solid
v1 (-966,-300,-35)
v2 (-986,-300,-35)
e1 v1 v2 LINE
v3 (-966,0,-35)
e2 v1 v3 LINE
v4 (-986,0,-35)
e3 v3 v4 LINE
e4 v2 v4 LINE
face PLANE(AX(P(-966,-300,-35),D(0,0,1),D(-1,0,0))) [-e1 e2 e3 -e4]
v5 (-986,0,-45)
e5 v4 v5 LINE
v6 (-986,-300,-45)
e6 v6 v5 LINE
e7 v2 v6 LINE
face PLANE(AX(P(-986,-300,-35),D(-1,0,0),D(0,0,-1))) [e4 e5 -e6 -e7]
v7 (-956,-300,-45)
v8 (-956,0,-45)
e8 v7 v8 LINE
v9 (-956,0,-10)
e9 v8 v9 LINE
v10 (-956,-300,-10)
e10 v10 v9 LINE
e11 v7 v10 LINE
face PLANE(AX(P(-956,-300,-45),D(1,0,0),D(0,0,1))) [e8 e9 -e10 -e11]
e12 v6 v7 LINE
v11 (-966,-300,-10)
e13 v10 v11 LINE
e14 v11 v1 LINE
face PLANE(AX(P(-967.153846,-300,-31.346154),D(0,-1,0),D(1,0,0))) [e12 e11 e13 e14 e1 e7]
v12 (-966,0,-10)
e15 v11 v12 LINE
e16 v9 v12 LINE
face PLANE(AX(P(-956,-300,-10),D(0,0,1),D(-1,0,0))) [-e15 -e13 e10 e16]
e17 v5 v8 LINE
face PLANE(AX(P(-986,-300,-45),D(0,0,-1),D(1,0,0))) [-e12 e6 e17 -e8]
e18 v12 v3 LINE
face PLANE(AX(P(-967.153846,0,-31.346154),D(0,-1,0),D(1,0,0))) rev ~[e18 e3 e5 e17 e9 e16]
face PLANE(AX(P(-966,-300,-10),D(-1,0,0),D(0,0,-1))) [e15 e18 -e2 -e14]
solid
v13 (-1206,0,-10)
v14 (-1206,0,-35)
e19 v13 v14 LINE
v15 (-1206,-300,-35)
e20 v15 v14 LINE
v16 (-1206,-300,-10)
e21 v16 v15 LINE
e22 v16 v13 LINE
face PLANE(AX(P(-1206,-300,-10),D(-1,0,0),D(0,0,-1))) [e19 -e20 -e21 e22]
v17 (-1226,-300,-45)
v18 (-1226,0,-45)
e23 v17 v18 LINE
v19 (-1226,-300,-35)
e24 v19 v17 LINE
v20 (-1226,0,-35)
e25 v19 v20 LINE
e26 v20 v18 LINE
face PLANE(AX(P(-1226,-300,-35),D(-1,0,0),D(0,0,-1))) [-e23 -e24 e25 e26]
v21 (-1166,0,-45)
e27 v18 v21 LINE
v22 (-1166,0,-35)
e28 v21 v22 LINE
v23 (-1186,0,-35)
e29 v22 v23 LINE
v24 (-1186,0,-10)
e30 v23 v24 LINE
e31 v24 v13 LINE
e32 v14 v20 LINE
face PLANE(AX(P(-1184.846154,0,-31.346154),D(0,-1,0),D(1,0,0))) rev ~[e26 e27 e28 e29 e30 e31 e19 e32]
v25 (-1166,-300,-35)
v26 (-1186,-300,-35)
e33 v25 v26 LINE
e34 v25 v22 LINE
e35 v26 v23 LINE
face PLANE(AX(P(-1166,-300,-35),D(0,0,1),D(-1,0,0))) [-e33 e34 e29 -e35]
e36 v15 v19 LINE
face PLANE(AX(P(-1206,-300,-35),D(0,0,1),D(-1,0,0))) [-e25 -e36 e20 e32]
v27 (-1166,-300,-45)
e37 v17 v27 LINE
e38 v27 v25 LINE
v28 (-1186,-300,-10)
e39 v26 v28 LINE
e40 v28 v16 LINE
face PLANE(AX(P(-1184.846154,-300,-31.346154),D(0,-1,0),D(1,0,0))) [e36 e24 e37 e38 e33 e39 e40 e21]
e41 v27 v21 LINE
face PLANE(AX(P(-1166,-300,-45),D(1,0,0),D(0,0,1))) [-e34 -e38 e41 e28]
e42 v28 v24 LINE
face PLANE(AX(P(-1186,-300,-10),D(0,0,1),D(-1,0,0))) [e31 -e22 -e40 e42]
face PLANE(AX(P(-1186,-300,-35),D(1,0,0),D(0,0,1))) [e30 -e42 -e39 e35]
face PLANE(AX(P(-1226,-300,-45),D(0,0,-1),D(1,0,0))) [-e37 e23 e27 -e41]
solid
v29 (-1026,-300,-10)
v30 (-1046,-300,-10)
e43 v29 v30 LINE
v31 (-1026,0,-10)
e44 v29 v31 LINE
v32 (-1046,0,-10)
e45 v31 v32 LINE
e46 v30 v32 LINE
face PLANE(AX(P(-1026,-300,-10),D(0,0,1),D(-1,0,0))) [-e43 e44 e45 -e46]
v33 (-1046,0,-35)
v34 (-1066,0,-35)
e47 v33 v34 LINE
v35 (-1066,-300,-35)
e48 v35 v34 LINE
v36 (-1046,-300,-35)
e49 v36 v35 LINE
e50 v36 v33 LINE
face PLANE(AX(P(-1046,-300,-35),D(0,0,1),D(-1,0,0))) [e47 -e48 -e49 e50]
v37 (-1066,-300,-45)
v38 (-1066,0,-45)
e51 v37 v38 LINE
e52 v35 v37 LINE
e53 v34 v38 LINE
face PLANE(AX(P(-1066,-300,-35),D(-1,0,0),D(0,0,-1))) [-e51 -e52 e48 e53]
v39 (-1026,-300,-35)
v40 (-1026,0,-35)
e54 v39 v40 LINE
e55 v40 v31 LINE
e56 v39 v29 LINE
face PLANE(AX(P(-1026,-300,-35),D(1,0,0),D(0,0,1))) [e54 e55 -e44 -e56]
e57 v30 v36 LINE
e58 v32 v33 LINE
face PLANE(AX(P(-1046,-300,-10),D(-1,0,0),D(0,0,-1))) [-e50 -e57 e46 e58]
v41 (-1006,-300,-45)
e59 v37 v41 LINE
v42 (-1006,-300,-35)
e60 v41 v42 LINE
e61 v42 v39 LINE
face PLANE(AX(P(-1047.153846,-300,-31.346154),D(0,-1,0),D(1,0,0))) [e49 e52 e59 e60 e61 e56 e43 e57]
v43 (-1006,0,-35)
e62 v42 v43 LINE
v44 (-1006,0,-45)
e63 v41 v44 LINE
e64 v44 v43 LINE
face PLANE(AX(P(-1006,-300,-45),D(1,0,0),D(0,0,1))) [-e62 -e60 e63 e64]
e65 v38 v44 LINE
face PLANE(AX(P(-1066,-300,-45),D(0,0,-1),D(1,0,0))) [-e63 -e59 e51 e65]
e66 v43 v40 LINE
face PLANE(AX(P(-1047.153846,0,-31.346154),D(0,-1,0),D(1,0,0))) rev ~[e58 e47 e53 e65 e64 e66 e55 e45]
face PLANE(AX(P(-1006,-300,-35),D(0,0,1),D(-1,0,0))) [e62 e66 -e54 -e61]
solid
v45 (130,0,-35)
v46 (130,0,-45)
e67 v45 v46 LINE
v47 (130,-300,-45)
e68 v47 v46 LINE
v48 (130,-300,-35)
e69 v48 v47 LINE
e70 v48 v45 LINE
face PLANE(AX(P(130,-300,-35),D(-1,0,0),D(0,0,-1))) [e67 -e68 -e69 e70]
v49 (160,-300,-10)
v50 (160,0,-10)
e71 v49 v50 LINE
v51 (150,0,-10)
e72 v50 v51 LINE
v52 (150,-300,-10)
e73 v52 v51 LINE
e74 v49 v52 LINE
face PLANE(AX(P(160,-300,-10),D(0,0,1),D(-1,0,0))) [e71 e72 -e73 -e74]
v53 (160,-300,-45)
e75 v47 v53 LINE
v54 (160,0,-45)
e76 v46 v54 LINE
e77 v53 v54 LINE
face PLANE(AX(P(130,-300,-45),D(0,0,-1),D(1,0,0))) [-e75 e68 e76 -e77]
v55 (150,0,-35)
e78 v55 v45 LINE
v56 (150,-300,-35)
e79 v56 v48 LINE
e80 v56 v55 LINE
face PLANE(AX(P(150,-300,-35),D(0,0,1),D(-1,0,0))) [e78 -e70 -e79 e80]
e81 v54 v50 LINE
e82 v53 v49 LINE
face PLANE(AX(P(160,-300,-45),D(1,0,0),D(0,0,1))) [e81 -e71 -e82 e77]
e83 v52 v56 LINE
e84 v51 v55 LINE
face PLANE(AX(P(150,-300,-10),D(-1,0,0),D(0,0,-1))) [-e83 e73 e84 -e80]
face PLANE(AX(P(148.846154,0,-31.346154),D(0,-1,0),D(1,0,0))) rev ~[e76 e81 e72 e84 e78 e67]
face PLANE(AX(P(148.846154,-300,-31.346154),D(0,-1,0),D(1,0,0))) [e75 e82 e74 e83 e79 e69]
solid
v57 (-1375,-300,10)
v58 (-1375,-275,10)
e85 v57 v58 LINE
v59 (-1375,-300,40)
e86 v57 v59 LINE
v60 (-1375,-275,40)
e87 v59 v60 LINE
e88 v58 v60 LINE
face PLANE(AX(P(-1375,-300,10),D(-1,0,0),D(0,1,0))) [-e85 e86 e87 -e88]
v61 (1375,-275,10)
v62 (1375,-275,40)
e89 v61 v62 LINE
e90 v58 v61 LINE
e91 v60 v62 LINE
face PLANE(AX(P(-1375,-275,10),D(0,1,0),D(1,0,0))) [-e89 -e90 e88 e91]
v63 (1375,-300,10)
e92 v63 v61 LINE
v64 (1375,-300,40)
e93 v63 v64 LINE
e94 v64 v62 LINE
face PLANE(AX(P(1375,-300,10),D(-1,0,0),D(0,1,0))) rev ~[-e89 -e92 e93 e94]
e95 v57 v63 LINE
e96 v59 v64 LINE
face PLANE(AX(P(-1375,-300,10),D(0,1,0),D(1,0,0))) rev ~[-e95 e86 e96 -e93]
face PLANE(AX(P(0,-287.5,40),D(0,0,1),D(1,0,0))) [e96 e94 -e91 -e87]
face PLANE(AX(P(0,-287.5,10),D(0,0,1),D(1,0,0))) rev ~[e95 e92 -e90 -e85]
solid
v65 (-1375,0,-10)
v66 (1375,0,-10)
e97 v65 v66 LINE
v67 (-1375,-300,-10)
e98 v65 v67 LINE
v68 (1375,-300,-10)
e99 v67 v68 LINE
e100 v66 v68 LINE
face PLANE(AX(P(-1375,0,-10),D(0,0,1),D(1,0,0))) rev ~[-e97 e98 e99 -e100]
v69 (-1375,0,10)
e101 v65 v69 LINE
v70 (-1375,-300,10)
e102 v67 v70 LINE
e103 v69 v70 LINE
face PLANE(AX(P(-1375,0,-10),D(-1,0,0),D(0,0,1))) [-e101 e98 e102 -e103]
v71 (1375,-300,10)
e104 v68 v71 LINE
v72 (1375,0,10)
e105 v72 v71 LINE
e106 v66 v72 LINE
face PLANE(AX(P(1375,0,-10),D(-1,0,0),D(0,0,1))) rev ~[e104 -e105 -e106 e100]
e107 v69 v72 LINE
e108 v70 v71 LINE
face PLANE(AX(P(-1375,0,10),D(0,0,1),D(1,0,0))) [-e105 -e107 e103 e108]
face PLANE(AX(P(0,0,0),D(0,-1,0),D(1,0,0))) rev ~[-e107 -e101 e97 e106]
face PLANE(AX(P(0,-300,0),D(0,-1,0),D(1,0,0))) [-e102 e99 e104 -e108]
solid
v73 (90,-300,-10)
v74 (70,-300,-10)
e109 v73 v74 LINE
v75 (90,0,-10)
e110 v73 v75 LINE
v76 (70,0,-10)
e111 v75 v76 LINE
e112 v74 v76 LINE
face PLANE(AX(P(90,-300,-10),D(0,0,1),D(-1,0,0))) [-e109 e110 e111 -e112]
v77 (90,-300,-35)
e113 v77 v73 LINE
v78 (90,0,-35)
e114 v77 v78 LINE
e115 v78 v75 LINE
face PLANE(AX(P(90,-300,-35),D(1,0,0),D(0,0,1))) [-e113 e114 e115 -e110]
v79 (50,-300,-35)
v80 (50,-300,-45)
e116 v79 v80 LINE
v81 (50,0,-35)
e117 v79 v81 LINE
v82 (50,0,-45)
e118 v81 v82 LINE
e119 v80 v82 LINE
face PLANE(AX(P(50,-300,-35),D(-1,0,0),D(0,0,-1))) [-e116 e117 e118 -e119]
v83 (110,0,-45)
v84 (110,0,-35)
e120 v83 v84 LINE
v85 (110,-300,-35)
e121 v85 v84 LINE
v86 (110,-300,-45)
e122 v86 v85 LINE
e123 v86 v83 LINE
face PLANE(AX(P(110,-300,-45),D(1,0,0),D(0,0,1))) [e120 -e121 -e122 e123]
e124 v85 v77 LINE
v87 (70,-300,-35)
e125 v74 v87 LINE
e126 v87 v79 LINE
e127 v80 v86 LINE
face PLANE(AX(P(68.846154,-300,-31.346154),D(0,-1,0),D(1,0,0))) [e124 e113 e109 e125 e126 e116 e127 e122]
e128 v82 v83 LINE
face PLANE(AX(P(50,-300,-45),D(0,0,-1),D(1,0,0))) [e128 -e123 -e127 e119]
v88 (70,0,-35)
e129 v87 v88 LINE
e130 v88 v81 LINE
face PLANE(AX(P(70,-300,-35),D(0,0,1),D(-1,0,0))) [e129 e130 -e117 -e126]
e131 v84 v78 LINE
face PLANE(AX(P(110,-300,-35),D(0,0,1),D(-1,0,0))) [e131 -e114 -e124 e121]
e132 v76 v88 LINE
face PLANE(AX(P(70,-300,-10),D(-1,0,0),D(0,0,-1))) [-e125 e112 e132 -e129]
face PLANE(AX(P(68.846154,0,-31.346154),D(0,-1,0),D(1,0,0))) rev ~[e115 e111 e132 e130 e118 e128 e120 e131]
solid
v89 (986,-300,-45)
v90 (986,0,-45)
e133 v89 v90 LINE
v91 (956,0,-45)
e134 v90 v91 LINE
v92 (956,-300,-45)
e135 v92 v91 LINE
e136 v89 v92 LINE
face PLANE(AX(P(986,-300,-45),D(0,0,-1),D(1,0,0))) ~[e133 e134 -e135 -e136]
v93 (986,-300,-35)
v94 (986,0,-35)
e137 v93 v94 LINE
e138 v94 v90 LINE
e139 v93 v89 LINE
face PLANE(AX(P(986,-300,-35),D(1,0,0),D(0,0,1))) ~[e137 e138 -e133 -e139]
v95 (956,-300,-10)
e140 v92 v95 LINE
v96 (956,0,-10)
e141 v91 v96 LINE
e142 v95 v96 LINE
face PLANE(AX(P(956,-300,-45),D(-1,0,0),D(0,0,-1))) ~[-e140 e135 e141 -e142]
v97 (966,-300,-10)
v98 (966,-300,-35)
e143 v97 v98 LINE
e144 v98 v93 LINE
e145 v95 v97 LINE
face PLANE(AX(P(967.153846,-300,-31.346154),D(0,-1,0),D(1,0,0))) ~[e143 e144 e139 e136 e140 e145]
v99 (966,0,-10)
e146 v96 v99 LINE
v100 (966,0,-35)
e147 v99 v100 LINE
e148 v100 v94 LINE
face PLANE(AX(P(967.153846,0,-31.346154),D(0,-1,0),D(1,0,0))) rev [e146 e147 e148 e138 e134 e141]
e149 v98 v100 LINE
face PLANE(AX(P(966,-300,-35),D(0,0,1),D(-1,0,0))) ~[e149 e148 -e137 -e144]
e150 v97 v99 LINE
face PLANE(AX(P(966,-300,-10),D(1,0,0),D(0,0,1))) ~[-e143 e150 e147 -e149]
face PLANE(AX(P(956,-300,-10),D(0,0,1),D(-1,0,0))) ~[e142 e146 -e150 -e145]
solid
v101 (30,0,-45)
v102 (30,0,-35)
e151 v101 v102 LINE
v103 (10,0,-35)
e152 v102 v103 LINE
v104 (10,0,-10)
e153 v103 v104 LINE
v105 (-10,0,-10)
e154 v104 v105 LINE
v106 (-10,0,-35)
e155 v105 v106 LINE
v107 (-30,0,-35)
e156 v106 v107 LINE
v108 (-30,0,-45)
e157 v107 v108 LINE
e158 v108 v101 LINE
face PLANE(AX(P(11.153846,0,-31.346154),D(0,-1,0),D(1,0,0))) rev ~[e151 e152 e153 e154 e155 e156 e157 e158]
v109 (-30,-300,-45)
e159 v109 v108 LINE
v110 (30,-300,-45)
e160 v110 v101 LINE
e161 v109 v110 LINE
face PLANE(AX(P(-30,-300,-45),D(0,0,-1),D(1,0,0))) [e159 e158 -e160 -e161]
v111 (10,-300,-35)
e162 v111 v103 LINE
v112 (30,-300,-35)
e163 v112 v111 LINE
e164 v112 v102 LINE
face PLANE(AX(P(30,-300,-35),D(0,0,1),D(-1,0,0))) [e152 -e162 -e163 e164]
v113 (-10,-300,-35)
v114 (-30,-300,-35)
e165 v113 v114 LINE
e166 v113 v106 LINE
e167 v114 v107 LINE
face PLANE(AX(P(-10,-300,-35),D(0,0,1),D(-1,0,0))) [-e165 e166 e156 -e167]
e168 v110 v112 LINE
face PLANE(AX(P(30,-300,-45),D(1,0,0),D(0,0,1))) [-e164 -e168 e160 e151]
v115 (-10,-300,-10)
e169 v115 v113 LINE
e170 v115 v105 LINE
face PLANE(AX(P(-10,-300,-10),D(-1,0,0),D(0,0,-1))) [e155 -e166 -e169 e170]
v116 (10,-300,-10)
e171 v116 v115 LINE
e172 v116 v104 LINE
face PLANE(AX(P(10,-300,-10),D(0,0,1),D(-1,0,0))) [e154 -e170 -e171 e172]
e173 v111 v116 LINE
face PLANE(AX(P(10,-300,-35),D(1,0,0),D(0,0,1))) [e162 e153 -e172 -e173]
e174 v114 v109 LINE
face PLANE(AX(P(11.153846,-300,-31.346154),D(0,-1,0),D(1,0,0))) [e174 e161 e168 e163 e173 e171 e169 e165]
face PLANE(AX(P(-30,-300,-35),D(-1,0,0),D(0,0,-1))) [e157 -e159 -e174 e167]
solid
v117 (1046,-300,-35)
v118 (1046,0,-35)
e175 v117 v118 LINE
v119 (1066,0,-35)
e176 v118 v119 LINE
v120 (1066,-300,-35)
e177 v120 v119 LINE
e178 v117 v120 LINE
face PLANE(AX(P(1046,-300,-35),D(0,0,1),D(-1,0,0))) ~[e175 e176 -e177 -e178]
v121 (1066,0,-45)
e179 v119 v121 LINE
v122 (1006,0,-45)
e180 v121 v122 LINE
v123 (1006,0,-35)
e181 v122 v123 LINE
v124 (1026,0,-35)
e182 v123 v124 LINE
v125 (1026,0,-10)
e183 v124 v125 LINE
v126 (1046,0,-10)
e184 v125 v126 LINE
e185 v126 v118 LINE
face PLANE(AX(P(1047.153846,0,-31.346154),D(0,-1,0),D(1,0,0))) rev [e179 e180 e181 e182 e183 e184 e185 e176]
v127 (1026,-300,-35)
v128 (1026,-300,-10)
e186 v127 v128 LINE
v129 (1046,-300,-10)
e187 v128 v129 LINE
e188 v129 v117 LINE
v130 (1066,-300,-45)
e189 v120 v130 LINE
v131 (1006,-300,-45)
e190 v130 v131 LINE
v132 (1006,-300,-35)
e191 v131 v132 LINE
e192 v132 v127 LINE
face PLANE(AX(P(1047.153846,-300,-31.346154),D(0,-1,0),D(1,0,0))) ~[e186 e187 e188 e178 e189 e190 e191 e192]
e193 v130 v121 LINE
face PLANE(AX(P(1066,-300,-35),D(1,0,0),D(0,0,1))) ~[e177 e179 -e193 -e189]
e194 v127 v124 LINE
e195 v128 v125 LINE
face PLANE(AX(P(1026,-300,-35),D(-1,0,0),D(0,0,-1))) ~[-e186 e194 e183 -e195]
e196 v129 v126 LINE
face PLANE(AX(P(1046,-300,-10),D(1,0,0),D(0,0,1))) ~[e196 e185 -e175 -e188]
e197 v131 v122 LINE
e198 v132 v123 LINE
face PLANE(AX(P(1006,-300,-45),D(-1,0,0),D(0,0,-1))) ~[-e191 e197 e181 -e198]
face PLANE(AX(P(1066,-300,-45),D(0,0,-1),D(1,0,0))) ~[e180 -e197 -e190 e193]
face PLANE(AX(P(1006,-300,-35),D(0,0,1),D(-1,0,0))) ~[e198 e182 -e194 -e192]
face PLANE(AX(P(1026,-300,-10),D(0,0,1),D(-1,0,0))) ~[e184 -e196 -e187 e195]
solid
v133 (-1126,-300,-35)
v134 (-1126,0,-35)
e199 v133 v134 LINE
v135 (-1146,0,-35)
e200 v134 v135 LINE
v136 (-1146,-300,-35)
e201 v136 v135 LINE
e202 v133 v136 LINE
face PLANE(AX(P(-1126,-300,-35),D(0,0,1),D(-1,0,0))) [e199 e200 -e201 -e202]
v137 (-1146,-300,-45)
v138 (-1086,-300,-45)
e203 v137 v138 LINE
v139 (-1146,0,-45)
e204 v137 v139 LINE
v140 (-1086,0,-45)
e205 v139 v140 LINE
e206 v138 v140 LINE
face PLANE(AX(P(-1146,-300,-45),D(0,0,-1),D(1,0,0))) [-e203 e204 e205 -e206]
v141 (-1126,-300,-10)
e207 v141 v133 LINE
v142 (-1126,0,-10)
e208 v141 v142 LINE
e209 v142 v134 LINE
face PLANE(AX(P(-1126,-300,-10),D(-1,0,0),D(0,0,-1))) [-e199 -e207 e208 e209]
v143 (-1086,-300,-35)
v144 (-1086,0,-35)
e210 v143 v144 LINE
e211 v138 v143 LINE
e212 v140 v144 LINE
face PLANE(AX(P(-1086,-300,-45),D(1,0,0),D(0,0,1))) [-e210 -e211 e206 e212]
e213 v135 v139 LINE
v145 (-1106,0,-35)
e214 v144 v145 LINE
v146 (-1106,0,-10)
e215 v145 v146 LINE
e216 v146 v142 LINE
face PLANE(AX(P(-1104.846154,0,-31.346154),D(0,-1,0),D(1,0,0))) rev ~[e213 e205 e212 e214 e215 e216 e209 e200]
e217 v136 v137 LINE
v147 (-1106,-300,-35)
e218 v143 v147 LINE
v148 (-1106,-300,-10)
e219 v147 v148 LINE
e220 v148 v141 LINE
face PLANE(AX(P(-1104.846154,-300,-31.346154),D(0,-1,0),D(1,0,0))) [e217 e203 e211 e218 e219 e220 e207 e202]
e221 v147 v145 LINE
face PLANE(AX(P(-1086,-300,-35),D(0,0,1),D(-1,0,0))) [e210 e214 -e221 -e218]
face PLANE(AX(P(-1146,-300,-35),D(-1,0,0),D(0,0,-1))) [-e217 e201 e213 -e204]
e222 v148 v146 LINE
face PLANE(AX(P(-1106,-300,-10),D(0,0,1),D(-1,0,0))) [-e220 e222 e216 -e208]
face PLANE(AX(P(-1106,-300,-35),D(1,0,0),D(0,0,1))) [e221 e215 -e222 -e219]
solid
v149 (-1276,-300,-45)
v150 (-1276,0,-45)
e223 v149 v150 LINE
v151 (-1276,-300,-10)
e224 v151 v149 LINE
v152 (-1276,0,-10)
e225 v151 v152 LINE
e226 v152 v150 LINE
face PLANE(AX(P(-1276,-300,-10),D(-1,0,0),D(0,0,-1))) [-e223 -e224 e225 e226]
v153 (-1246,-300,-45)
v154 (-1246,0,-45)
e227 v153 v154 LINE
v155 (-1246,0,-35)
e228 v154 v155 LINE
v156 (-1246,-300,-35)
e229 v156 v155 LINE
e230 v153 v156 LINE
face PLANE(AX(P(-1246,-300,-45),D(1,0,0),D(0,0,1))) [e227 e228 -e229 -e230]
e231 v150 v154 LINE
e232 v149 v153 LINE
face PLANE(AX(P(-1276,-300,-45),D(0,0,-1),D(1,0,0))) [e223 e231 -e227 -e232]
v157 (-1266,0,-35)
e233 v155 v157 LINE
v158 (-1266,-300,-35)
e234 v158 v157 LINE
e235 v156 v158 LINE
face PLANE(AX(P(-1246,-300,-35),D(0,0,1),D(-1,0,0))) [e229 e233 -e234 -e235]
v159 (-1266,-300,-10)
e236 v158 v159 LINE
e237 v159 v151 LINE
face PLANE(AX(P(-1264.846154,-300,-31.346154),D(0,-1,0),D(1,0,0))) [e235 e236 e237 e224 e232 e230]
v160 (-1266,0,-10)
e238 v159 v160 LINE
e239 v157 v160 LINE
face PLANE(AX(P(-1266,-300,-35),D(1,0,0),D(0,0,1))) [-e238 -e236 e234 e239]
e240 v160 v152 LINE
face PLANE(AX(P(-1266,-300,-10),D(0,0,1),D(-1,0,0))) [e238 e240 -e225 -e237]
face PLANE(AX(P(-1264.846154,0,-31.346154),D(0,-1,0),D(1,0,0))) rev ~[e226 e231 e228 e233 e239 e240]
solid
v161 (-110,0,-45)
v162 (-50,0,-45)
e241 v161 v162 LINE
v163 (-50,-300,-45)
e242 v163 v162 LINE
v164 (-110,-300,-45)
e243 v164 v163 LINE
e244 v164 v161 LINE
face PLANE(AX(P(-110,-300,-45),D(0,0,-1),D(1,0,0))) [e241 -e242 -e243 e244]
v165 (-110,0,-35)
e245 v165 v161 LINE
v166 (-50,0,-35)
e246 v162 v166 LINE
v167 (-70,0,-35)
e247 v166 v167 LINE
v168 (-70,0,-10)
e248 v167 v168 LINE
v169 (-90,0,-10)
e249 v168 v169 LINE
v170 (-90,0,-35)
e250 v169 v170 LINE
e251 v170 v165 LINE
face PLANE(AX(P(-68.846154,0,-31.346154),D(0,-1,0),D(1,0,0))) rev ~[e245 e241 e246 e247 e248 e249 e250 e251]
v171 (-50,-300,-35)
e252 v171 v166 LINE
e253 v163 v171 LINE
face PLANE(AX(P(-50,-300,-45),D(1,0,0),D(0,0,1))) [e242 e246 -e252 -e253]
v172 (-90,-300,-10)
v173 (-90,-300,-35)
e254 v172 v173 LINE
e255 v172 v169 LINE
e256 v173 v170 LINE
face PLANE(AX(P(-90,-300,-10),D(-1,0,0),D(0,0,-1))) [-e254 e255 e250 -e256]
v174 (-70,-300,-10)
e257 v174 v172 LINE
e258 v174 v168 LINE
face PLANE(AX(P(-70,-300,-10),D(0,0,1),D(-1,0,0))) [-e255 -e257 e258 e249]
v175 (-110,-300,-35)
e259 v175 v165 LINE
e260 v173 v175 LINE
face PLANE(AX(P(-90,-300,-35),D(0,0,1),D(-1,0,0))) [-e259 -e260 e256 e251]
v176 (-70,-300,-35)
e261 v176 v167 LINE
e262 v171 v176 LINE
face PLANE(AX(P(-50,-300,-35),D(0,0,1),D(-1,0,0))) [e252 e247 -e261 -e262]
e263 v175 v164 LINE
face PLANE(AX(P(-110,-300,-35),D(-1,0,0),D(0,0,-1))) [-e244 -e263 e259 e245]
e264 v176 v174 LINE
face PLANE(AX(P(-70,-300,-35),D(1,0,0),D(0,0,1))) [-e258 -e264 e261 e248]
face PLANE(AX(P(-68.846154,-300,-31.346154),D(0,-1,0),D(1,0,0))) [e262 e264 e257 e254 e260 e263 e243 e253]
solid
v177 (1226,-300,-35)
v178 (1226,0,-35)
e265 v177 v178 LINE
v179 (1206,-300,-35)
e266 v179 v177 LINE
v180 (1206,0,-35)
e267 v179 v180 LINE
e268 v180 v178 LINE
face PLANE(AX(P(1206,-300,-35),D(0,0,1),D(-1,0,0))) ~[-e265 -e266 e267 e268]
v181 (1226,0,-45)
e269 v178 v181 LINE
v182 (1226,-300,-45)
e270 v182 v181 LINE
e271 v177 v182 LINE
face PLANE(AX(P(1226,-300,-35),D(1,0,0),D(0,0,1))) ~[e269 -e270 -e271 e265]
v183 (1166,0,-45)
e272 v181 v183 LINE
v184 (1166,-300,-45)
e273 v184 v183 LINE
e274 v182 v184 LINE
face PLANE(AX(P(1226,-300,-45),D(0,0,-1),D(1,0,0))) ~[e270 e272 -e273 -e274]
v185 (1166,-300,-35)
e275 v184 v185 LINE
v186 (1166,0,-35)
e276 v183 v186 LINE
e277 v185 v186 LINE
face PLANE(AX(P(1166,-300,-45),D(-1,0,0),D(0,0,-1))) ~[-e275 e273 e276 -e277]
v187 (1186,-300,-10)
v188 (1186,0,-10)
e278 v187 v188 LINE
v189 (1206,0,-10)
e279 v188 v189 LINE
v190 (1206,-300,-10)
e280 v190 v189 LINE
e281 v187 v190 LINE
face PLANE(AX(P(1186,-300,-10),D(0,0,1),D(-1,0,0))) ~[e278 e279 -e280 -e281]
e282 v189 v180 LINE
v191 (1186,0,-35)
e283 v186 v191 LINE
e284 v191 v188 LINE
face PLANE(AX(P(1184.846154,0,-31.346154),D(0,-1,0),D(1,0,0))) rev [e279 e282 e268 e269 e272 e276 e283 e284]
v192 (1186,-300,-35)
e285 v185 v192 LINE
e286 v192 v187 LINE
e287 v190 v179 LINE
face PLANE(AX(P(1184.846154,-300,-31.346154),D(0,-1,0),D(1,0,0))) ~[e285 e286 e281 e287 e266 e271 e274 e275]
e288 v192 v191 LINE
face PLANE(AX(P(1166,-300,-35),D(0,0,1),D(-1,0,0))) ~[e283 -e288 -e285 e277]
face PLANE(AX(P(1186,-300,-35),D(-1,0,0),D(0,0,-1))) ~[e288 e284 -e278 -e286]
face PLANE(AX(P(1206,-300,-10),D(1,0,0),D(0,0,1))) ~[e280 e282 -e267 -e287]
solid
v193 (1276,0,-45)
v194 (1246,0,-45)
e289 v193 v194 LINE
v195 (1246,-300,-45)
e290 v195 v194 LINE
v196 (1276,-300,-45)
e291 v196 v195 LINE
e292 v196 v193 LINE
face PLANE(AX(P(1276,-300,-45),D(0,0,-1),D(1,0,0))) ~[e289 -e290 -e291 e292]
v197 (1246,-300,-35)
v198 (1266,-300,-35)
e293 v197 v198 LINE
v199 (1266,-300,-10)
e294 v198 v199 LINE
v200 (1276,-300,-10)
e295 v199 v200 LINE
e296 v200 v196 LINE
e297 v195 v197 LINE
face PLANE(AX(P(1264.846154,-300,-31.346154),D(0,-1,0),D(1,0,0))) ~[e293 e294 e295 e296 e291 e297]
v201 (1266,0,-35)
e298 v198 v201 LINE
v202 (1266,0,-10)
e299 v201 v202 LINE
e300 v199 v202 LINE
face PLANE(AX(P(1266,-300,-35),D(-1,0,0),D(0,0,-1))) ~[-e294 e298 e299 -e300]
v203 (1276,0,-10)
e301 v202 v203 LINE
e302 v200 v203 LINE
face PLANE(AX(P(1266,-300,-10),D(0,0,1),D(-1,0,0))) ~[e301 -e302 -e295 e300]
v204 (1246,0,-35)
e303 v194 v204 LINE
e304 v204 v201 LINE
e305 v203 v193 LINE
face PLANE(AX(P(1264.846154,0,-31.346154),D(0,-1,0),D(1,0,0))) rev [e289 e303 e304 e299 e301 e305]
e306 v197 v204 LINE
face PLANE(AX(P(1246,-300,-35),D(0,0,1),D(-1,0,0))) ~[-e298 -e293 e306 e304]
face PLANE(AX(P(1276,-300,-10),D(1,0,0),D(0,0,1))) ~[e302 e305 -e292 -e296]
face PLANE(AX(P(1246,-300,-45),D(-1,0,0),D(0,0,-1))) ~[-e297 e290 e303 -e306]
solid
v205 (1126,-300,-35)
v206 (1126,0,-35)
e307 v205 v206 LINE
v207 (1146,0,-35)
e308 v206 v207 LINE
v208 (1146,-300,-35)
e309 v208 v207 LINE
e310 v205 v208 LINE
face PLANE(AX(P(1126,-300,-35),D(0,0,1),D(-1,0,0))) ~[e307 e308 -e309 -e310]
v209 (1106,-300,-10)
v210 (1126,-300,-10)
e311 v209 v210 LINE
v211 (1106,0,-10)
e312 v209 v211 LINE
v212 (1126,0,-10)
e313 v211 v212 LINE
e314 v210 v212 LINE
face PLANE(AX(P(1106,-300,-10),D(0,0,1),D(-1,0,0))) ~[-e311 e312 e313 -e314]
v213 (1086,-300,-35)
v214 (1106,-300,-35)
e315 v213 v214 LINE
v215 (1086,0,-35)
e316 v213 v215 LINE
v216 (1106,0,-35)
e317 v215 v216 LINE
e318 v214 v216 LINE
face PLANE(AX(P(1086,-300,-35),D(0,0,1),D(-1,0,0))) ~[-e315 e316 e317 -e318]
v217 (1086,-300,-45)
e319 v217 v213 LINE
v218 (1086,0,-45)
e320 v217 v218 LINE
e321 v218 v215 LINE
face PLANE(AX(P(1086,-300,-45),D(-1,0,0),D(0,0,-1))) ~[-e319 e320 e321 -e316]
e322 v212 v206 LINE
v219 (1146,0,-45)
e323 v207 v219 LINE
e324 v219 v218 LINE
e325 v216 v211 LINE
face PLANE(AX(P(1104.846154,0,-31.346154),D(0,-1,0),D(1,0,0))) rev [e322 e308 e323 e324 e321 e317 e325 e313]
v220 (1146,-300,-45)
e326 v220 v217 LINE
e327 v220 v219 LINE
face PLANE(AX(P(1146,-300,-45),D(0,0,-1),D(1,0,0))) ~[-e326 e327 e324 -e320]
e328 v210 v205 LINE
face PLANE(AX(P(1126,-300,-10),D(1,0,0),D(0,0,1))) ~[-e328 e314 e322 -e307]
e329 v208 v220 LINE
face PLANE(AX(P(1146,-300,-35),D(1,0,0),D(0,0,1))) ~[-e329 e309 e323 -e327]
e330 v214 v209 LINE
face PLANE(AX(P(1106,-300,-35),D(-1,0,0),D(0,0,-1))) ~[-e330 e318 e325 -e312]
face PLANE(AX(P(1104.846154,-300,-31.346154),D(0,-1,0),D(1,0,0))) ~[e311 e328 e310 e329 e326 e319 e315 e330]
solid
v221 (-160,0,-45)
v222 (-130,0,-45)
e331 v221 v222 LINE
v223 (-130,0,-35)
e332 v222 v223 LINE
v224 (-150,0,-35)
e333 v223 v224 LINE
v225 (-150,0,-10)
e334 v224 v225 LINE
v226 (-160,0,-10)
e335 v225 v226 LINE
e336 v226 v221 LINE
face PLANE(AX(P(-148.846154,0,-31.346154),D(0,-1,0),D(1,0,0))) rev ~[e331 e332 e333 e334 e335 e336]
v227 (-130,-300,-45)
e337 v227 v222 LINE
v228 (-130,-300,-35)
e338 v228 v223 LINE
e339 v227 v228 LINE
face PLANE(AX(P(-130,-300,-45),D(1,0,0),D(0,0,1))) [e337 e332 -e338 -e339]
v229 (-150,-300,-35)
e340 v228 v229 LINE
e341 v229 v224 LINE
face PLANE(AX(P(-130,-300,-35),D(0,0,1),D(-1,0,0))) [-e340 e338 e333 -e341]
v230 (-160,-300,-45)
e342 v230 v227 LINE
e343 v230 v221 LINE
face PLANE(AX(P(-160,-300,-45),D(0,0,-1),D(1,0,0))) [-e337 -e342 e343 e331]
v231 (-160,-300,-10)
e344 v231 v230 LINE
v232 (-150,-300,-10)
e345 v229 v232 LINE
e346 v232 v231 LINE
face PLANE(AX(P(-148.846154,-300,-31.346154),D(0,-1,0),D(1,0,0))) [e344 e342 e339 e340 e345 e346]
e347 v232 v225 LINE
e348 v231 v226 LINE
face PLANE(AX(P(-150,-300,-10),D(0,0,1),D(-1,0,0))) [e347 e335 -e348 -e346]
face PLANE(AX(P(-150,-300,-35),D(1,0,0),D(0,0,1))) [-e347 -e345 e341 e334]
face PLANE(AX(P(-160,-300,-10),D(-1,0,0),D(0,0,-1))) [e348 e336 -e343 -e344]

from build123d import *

# Parameters (mm, degrees)
F0_W     = 2750
F0_H     = 20
F1_DEPTH = 300
F2_W     = 2750
F2_H     = 25
F3_DEPTH = 30
F5_DEPTH = 300


with BuildPart() as f1:
    # F0 (on Front) → F1 (new body)
    with BuildSketch(Plane.XZ):
        Rectangle(F0_W, F0_H)
    extrude(amount=F1_DEPTH)


with BuildPart() as f3:
    # F2 (on face) → F3 (new body)
    with BuildSketch(Plane.XY.offset(10)):
        with Locations((0, -287.5)):
            Rectangle(F2_W, F2_H)
    extrude(amount=F3_DEPTH)


with BuildPart() as f5:
    # F4 (on face) → F5 (new body)
    with BuildSketch(Plane.XZ.offset(300)):
        Polygon((10, -10), (0, -10), (0, -45), (30, -45), (30, -35), (10, -35), align=None)
        Polygon((0, -45), (0, -10), (-10, -10), (-10, -35), (-30, -35), (-30, -45), align=None)
        Polygon((50, -45), (80, -45), (80, -10), (70, -10), (70, -35), (50, -35), align=None)
        Polygon((80, -10), (80, -45), (110, -45), (110, -35), (90, -35), (90, -10), align=None)
        Polygon((-70, -10), (-80, -10), (-80, -45), (-50, -45), (-50, -35), (-70, -35), align=None)
        Polygon((-80, -45), (-80, -10), (-90, -10), (-90, -35), (-110, -35), (-110, -45), align=None)
        Polygon((130, -45), (160, -45), (160, -10), (150, -10), (150, -35), (130, -35), align=None)
        Polygon((-150, -35), (-150, -10), (-160, -10), (-160, -45), (-130, -45), (-130, -35), align=None)
    extrude(amount=-F5_DEPTH)


with BuildPart() as f7_1:
    # F7: instance of F5
    add(f5.part.mirror(Plane(origin=(558, -150, 0), x_dir=(0, 1, 0), z_dir=(1, 0, 0))))


with BuildPart() as f8_1:
    # F8: instance of F7_1
    add(f7_1.part.mirror(Plane.YZ))


solid = Compound([f1.part, f3.part, f5.part, f7_1.part, f8_1.part])
